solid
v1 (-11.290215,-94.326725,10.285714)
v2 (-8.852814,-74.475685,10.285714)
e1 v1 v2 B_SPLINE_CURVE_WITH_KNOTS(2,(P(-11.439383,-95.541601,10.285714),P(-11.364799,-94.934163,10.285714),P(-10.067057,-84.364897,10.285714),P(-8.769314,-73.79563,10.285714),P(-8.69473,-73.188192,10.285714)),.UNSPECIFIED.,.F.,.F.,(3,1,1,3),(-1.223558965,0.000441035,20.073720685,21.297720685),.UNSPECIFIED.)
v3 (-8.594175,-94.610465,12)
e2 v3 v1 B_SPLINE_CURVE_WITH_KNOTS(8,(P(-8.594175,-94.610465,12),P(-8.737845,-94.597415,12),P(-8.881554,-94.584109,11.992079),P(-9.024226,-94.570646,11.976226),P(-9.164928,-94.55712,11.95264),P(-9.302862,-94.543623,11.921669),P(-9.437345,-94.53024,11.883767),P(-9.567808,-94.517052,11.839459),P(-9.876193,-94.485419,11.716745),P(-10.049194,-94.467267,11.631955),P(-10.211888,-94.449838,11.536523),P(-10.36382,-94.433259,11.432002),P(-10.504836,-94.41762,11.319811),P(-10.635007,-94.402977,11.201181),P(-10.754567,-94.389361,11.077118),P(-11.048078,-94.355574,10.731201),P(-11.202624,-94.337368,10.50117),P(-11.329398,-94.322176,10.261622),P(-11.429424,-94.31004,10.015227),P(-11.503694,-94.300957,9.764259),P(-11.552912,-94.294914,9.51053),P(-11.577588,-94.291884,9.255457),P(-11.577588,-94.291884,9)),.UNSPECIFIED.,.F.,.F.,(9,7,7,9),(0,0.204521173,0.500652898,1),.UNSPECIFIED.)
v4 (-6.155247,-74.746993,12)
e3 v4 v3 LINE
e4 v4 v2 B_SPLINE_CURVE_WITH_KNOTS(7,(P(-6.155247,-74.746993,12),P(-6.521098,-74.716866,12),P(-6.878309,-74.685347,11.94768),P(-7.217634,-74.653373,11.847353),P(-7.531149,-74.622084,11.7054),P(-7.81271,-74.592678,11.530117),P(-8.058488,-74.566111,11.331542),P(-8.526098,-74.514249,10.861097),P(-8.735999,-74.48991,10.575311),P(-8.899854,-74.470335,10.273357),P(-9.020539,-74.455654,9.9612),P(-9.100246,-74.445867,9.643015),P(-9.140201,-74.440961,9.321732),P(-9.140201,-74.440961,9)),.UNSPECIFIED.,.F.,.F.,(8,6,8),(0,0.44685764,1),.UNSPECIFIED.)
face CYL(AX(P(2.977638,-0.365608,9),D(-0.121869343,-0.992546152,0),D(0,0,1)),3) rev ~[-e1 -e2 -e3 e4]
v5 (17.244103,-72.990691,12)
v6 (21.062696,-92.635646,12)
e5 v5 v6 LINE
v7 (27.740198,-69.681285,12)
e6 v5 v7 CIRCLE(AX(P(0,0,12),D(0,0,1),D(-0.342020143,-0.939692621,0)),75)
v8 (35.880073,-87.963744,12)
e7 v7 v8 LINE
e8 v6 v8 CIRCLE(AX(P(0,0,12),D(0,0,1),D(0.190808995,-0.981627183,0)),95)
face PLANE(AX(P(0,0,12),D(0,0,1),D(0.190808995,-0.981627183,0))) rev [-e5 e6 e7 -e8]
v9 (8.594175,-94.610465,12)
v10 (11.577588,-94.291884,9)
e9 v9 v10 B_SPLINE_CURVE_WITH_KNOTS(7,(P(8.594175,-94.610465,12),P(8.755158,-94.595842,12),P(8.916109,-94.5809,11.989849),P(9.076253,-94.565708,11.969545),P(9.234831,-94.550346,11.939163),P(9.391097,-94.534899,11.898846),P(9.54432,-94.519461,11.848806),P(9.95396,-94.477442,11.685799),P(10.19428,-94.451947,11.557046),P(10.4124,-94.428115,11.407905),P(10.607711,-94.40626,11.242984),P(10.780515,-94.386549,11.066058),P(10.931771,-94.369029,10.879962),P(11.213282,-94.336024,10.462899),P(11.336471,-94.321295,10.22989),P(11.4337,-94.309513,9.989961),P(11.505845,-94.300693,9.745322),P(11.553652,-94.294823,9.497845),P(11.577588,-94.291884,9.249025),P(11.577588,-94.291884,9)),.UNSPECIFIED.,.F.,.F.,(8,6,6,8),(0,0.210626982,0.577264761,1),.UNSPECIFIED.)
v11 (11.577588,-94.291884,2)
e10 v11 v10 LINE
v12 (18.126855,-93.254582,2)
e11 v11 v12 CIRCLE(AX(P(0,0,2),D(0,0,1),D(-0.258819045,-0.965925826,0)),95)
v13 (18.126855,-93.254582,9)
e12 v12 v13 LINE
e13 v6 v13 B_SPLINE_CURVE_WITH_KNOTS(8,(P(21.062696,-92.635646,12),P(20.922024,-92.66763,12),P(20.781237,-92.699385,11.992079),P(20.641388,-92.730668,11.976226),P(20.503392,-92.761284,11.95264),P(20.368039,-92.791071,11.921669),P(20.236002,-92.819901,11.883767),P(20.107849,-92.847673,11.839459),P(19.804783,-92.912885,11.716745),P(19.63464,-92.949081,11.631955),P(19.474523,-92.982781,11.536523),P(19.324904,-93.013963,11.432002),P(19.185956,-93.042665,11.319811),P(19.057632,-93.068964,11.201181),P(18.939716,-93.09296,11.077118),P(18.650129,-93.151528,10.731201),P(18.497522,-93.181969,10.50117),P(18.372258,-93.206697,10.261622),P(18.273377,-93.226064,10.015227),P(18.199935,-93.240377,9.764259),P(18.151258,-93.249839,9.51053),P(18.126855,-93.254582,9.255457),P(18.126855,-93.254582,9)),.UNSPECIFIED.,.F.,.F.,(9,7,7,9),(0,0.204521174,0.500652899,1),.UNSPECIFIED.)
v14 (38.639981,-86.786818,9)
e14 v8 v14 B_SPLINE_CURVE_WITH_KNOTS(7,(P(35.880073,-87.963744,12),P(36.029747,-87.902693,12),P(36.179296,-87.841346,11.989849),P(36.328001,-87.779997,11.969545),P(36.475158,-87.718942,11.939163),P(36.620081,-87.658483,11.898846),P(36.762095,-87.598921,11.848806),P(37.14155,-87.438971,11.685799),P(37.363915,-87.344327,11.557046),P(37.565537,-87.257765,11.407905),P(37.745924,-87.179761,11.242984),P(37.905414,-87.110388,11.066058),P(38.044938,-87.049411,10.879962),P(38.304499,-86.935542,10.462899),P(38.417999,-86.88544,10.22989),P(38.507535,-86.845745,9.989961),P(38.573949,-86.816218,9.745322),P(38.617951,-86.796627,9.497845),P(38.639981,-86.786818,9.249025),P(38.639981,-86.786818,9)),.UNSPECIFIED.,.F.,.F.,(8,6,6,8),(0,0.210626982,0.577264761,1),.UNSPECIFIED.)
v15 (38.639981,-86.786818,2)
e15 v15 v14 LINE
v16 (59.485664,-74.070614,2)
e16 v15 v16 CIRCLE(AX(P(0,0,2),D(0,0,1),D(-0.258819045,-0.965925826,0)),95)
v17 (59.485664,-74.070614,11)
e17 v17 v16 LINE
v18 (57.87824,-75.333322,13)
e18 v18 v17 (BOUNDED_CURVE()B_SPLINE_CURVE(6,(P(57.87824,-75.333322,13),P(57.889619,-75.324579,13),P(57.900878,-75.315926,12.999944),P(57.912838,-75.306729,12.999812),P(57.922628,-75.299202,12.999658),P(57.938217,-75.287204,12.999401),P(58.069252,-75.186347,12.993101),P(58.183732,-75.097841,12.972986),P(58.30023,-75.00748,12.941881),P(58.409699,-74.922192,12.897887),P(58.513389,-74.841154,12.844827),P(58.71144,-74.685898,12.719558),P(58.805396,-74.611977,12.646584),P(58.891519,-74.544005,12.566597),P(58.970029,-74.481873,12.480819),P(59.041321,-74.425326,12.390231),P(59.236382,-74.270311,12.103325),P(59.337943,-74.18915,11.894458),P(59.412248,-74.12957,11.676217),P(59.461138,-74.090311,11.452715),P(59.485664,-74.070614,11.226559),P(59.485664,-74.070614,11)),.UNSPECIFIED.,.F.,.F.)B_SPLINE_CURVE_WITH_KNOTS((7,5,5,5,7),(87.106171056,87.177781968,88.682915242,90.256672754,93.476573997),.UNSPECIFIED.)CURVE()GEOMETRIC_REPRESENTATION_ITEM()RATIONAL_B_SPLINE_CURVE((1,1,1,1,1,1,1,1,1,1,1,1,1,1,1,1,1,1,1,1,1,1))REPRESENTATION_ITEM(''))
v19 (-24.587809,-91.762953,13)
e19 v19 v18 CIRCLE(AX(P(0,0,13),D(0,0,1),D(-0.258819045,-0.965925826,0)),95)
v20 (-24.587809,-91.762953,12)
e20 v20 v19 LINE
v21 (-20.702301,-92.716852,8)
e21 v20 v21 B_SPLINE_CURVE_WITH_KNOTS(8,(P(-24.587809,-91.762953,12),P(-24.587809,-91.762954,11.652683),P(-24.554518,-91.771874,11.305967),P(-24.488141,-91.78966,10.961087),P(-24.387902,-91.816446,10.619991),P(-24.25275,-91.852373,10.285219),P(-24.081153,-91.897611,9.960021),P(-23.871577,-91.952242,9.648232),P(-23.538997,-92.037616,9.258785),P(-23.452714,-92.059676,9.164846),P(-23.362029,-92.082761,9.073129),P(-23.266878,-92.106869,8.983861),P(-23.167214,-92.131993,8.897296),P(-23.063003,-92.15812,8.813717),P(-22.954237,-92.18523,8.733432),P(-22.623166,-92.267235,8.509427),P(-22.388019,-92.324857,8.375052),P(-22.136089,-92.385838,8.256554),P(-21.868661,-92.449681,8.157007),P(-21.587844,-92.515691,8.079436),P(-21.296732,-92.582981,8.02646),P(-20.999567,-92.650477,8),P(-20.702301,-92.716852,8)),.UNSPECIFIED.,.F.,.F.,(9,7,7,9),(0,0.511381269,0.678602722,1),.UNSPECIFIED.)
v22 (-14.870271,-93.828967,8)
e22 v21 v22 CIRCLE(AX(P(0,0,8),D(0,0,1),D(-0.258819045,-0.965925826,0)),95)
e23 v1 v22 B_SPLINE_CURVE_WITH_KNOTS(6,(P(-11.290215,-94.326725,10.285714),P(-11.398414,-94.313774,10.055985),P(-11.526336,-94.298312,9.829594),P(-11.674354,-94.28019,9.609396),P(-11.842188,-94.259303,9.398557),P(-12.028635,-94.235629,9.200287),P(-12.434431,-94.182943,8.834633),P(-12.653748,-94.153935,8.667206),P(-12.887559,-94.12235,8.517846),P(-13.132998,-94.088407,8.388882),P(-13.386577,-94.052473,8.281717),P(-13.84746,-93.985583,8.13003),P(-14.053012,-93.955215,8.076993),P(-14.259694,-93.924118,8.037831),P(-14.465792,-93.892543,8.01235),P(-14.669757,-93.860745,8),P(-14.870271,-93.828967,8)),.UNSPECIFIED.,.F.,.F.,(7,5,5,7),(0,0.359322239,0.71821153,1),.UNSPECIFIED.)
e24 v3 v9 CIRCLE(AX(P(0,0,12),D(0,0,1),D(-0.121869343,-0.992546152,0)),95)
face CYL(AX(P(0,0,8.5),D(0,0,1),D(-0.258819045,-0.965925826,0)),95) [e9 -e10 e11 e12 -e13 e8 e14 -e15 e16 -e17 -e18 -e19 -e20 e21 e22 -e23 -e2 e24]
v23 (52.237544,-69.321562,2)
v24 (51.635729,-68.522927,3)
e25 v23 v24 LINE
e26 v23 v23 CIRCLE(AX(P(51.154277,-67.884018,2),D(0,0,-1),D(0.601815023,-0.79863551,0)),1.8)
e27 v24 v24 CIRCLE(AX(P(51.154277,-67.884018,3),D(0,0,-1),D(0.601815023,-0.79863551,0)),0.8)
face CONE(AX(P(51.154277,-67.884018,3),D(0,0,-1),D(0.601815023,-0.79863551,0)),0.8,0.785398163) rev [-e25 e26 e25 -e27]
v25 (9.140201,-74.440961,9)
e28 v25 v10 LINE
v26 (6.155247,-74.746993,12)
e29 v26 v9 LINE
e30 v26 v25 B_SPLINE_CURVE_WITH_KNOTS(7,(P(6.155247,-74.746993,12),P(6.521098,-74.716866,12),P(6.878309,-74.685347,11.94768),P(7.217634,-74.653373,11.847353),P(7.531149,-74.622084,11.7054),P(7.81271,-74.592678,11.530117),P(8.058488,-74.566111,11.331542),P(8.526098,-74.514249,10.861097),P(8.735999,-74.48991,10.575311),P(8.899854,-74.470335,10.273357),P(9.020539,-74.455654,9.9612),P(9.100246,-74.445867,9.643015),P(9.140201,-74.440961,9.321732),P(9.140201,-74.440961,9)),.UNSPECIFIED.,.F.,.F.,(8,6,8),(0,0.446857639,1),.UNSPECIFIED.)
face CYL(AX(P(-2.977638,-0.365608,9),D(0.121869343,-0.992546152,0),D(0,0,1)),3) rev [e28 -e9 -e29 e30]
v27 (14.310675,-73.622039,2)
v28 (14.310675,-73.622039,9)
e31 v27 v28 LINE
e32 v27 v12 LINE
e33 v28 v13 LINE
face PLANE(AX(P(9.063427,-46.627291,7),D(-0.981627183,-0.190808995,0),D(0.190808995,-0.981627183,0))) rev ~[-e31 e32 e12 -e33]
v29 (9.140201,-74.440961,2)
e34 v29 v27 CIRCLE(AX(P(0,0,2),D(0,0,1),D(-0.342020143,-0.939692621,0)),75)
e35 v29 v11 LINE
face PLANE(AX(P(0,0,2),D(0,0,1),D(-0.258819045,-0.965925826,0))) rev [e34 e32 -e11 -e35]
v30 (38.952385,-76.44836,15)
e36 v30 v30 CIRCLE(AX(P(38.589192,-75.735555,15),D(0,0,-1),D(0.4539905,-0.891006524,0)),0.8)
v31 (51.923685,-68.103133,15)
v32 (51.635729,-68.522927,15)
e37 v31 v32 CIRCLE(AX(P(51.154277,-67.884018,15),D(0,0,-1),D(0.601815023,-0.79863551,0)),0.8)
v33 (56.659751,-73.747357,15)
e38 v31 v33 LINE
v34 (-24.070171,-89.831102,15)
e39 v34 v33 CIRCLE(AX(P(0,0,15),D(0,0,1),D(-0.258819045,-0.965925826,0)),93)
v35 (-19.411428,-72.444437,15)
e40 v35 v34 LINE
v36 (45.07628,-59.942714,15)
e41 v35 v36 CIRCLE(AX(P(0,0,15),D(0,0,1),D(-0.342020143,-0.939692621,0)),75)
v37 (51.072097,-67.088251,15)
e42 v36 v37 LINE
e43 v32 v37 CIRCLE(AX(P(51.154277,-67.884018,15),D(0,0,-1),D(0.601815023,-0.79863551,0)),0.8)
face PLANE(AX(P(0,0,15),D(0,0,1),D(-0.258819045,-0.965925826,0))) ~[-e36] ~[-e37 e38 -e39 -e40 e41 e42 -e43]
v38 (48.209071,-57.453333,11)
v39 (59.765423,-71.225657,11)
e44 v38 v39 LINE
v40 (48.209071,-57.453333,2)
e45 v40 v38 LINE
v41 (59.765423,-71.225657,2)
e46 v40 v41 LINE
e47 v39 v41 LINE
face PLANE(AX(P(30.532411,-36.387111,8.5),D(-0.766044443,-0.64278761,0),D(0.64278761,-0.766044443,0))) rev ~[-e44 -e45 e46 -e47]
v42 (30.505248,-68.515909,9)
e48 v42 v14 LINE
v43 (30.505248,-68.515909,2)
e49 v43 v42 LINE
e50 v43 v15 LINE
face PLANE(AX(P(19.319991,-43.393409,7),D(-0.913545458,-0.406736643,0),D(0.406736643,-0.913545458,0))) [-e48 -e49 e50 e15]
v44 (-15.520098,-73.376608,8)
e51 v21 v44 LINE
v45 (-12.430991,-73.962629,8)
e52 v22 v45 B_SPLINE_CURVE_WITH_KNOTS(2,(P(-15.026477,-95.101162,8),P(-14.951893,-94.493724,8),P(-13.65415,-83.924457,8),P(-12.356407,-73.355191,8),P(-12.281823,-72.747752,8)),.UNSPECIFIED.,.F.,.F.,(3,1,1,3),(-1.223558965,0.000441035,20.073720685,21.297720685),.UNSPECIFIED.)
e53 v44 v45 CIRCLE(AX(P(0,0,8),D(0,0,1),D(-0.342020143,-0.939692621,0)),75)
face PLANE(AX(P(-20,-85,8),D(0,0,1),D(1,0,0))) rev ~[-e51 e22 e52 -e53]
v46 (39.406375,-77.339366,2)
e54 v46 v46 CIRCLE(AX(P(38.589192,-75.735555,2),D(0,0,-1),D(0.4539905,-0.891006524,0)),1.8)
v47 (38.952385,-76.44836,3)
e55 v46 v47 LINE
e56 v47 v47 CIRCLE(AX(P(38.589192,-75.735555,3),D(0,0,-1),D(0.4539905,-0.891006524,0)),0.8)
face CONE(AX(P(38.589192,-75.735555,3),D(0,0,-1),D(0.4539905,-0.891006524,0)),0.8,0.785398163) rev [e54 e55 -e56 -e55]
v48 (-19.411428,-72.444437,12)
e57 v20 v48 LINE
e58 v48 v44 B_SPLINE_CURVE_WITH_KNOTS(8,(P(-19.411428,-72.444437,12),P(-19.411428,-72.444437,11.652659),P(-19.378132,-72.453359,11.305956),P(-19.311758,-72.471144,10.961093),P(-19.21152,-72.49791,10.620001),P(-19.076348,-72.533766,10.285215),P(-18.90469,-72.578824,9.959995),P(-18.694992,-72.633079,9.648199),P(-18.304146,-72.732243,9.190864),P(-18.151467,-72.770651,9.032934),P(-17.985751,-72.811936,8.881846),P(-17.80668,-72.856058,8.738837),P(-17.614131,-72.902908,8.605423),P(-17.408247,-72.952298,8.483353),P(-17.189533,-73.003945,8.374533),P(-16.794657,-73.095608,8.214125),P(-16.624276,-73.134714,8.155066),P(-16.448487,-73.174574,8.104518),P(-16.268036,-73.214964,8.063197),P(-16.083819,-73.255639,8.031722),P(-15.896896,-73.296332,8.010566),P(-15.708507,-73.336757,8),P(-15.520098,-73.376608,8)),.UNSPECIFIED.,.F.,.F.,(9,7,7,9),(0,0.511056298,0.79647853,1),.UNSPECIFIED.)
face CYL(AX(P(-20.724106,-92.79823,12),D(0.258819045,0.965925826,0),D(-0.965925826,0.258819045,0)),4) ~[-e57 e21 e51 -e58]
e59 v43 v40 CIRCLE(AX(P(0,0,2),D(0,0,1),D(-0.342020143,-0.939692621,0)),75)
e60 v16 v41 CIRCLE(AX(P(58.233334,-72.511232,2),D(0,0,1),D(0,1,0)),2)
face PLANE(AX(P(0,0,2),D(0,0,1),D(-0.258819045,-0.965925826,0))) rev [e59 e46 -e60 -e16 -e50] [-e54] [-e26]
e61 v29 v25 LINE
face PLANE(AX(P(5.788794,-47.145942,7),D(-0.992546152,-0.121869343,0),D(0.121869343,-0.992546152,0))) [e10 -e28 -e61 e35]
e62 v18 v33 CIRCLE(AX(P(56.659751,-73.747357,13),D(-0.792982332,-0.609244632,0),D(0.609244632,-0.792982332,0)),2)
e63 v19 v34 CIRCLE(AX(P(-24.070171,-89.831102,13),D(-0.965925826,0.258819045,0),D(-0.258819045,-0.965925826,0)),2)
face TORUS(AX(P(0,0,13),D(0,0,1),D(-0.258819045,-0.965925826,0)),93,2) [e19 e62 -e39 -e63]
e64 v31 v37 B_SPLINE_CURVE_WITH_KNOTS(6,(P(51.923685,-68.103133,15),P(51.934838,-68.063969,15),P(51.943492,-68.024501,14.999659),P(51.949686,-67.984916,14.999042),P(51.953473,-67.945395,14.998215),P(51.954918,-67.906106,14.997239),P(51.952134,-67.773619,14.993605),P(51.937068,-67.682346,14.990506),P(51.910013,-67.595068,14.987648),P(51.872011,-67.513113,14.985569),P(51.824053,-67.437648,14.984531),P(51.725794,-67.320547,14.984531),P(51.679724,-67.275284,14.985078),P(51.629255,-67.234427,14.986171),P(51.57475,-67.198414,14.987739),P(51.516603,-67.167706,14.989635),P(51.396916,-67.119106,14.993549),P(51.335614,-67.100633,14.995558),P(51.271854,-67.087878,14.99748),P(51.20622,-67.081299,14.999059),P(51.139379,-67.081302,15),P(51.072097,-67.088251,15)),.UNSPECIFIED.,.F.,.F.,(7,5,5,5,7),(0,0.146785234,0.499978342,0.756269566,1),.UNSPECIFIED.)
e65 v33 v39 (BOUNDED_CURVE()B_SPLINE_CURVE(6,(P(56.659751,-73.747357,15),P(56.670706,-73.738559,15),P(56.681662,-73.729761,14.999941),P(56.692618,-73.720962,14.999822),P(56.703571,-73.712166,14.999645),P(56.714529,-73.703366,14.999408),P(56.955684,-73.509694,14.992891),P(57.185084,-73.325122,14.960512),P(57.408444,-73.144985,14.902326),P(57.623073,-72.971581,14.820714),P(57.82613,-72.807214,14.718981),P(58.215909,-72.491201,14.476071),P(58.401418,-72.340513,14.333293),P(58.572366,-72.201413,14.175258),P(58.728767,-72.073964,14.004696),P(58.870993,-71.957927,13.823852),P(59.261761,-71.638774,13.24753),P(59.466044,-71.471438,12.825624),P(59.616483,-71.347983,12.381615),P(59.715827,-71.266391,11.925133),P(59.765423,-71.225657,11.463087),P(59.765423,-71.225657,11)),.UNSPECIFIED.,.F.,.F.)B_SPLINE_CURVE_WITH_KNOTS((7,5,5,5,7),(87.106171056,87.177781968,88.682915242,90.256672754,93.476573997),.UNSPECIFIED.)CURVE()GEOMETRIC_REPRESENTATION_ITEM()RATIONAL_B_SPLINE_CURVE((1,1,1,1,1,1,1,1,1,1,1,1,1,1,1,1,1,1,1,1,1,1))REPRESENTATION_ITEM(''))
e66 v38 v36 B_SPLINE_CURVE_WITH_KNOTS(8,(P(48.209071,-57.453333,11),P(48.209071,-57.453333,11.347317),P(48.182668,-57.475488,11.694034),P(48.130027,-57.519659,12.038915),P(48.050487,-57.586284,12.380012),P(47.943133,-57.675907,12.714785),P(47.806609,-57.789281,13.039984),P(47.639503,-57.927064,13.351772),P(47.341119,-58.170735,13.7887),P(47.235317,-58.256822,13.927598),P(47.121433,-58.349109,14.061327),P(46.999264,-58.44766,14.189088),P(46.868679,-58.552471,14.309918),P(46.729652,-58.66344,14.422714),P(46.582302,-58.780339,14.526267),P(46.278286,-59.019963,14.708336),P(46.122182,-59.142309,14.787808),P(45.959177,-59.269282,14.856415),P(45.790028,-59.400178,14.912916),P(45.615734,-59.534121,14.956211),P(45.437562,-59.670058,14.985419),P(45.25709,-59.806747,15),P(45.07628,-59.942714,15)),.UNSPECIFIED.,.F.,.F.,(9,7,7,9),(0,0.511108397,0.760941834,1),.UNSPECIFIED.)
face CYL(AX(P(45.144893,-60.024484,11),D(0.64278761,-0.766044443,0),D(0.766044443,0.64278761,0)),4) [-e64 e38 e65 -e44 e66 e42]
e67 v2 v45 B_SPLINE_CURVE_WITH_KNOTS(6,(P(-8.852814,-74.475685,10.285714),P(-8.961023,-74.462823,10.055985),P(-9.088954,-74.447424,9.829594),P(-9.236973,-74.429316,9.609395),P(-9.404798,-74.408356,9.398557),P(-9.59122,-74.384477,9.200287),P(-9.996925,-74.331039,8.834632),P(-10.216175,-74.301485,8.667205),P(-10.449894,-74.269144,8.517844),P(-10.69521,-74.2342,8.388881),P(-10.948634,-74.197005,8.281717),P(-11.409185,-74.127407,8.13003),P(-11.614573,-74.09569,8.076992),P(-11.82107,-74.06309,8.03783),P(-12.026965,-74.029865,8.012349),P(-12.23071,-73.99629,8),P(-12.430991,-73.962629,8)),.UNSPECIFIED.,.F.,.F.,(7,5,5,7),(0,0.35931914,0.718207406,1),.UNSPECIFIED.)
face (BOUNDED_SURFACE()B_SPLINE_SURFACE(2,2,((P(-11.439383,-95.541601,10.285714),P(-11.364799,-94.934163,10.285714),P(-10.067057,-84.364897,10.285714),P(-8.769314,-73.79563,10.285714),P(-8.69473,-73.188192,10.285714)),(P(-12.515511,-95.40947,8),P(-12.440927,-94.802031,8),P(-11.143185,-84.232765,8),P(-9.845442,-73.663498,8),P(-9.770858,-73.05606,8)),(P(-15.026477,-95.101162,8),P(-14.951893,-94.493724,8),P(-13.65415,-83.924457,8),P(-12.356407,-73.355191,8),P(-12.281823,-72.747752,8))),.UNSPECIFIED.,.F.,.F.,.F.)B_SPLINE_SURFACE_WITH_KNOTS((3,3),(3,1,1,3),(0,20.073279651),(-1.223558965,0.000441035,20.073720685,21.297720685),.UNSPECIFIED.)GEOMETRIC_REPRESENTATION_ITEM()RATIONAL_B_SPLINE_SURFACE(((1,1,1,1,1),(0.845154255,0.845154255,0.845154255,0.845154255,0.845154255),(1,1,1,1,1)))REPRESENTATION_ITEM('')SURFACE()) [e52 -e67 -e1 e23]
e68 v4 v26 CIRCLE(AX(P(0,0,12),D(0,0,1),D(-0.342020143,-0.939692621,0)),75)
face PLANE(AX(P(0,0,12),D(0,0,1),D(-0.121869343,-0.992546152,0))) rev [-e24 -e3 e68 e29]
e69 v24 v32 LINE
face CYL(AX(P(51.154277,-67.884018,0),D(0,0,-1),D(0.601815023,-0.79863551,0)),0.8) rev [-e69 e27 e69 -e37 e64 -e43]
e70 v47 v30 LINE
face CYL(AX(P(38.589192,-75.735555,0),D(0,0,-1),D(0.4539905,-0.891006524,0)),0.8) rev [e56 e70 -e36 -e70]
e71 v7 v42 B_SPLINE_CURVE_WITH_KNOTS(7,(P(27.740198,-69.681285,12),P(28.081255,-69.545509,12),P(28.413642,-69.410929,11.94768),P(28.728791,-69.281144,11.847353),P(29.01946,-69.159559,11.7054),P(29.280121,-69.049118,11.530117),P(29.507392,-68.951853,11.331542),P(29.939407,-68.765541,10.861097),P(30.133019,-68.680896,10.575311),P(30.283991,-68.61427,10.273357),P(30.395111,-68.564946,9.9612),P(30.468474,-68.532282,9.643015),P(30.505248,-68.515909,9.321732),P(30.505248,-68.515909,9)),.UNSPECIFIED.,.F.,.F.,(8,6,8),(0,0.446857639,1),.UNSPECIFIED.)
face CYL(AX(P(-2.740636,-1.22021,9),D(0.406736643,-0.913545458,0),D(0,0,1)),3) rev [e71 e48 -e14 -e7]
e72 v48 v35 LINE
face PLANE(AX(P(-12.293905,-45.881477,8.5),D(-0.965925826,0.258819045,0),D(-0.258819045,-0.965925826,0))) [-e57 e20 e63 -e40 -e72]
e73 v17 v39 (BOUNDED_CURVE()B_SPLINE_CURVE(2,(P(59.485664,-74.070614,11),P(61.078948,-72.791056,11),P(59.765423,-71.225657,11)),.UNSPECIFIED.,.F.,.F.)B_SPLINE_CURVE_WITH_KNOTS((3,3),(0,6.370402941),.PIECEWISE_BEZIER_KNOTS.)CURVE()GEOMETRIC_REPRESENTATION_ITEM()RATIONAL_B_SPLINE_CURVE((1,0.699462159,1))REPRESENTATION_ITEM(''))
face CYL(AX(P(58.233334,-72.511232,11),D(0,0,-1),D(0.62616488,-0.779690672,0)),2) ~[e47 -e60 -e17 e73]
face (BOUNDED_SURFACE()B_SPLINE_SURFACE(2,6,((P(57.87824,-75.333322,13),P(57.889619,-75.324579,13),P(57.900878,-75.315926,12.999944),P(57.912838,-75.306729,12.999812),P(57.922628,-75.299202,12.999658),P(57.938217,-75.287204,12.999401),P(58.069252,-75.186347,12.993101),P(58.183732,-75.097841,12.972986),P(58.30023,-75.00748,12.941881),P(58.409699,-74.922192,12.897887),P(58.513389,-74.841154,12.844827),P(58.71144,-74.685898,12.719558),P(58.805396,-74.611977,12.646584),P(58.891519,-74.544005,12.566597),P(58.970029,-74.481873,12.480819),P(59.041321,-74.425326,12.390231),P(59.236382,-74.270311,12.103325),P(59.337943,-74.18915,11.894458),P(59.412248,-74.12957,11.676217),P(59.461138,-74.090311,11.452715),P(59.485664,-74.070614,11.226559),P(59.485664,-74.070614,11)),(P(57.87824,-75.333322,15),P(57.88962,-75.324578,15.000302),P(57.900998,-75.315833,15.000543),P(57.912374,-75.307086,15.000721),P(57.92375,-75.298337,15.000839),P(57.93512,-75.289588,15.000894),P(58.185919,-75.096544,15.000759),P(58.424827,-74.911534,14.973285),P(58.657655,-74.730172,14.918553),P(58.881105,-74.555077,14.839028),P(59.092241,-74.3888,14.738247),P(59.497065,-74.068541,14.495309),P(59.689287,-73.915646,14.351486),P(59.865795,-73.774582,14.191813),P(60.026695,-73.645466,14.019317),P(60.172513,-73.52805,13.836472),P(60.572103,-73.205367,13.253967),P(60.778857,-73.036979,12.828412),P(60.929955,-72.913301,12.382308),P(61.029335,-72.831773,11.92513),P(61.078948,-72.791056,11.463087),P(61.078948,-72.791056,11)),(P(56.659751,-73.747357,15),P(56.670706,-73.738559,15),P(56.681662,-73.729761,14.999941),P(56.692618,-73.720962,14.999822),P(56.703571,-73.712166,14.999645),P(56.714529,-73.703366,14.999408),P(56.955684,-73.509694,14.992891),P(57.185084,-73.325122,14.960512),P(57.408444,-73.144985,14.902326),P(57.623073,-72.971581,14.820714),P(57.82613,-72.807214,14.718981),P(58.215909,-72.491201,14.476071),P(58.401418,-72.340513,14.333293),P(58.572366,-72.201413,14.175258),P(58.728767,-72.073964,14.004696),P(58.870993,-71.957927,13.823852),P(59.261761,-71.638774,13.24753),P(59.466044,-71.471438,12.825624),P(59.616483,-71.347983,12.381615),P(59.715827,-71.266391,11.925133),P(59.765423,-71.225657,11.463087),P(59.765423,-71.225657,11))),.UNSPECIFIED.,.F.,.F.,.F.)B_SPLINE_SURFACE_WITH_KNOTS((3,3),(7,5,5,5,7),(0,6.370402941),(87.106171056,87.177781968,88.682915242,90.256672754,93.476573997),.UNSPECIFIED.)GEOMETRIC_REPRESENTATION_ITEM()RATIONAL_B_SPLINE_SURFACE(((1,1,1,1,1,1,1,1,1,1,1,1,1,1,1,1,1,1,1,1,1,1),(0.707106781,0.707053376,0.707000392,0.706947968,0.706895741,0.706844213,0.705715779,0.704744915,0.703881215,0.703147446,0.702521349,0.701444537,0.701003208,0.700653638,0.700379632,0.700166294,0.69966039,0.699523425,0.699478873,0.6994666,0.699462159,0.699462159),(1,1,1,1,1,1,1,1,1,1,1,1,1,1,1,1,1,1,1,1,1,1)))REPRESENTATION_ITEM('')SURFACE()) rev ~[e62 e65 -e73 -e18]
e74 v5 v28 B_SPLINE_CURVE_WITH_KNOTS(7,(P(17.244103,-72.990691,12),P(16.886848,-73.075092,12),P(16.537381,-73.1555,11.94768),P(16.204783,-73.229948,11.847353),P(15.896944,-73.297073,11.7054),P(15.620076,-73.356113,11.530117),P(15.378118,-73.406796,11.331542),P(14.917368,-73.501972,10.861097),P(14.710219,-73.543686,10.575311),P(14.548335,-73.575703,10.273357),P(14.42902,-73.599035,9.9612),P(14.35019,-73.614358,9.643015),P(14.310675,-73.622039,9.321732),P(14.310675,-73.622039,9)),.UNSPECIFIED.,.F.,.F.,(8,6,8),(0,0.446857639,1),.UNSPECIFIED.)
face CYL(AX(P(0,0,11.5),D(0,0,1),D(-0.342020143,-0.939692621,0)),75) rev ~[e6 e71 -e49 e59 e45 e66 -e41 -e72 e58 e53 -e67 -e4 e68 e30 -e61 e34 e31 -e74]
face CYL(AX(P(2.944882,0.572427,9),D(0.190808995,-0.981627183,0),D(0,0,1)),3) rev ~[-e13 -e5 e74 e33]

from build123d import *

# Parameters (mm, degrees)
CYLINDER017_R               = 0.8
CYLINDER017_DEPTH           = 20
CYLINDER018_R               = 0.8
CYLINDER018_DEPTH           = 20
CYLINDER019_R               = 0.8
CYLINDER019_DEPTH           = 20
CYLINDER020_R               = 0.8
CYLINDER020_DEPTH           = 20
FUSION007_PLACEMENT_ANGLE   = 10
FUSION008_PLACEMENT_ANGLE   = 297
CYLINDER015_W               = 95
CYLINDER015_H               = 10
CYLINDER015_ANGLE           = 14
CYLINDER015_PLACEMENT_ANGLE = 263
FILLET_R                    = 3
BOX_W                       = 30
BOX_H                       = 30
BOX_DEPTH                   = 8
CYLINDER029_W               = 95
CYLINDER029_H               = 10
CYLINDER029_ANGLE           = 13
CYLINDER029_PLACEMENT_ANGLE = 281
FILLET026_R                 = 3
CYLINDER016_W               = 75
CYLINDER016_H               = 19
CYLINDER016_ANGLE           = 140
CYLINDER016_PLACEMENT_ANGLE = 250
CYLINDER014_W               = 95
CYLINDER014_H               = 13
CYLINDER014_ANGLE           = 55
CYLINDER014_PLACEMENT_ANGLE = 255
FILLET013_R                 = 4
FILLET014_R                 = 2
FILLET027_R                 = 4
CHAMFER_SIZE                = 1


with BuildPart() as cylinder017:
    # Cylinder017 → Cylinder017 (new body)
    with BuildSketch(Plane(origin=(85, 0, 0), x_dir=(1, 0, 0), z_dir=(0, 0, 1))):
        Circle(CYLINDER017_R)
    extrude(amount=CYLINDER017_DEPTH)


with BuildPart() as fusion006:
    # Cylinder018 → Cylinder018 (new body)
    with BuildSketch(Plane(origin=(-85, 0, 0), x_dir=(1, 0, 0), z_dir=(0, 0, 1))):
        Circle(CYLINDER018_R)
    extrude(amount=CYLINDER018_DEPTH)

    # Fusion006: union Cylinder017
    add(cylinder017.part)


with BuildPart() as cylinder019:
    # Cylinder019 → Cylinder019 (new body)
    with BuildSketch(Plane(origin=(85, 0, 0), x_dir=(1, 0, 0), z_dir=(0, 0, 1))):
        Circle(CYLINDER019_R)
    extrude(amount=CYLINDER019_DEPTH)


with BuildPart() as toothscrewholles:
    # Cylinder020 → Cylinder020 (new body)
    with BuildSketch(Plane(origin=(-85, 0, 0), x_dir=(1, 0, 0), z_dir=(0, 0, 1))):
        Circle(CYLINDER020_R)
    extrude(amount=CYLINDER020_DEPTH)

    # Fusion007: union Cylinder019
    add(cylinder019.part)


with BuildPart() as toothscrewholles_1:
    # Fusion007 placement: moved
    add(toothscrewholles.part.rotate(Axis((0, 0, 0), (0, 0, 1)), FUSION007_PLACEMENT_ANGLE))

    # Fusion008: union Fusion006
    add(fusion006.part)


with BuildPart() as toothscrewholles_2:
    # Fusion008 placement: moved
    add(toothscrewholles_1.part.rotate(Axis((0, 0, 0), (0, 0, 1)), FUSION008_PLACEMENT_ANGLE))


with BuildPart() as fillet_body:
    # Cylinder015 → Cylinder015 (revolve)
    with BuildSketch(Plane.XZ):
        with Locations((47.5, 5)):
            Rectangle(CYLINDER015_W, CYLINDER015_H)
    revolve(axis=Axis((0, 0, 0), (0, 0, 1)), revolution_arc=CYLINDER015_ANGLE)


with BuildPart() as fillet_body_1:
    # Cylinder015 placement: moved
    add(fillet_body.part.moved(Location((0, 0, 2))).rotate(Axis((0, 0, 2), (0, 0, 1)), CYLINDER015_PLACEMENT_ANGLE))

    # Fillet
    fillet_edges = [fillet_body_1.edges().sort_by_distance(p)[0] for p in [
        (5.788794, -47.145942, 12),
        (-5.788794, -47.145942, 12),
    ]]
    fillet(fillet_edges, radius=FILLET_R)


with BuildPart() as cube:
    # Box → Box (new body)
    with BuildSketch(Plane(origin=(-35, -100, 0), x_dir=(1, 0, 0), z_dir=(0, 0, 1))):
        with Locations((15, 15)):
            Rectangle(BOX_W, BOX_H)
    extrude(amount=BOX_DEPTH)


with BuildPart() as fusion:
    # Cylinder029 → Cylinder029 (revolve)
    with BuildSketch(Plane.XZ):
        with Locations((47.5, 5)):
            Rectangle(CYLINDER029_W, CYLINDER029_H)
    revolve(axis=Axis((0, 0, 0), (0, 0, 1)), revolution_arc=CYLINDER029_ANGLE)


with BuildPart() as fusion_1:
    # Cylinder029 placement: moved
    add(fusion.part.moved(Location((0, 0, 2))).rotate(Axis((0, 0, 2), (0, 0, 1)), CYLINDER029_PLACEMENT_ANGLE))

    # Fillet026
    fillet026_edges = [fusion_1.edges().sort_by_distance(p)[0] for p in [
        (19.319991, -43.393409, 12),
        (9.063427, -46.627291, 12),
    ]]
    fillet(fillet026_edges, radius=FILLET026_R)

    # Fusion: union Fillet body, Cube
    add(fillet_body_1.part)
    add(cube.part)


with BuildPart() as cylinder016:
    # Cylinder016 → Cylinder016 (revolve)
    with BuildSketch(Plane.XZ):
        with Locations((37.5, 9.5)):
            Rectangle(CYLINDER016_W, CYLINDER016_H)
    revolve(axis=Axis((0, 0, 0), (0, 0, 1)), revolution_arc=CYLINDER016_ANGLE)


with BuildPart() as cylinder016_1:
    # Cylinder016 placement: moved
    add(cylinder016.part.moved(Location((0, 0, 2))).rotate(Axis((0, 0, 2), (0, 0, 1)), CYLINDER016_PLACEMENT_ANGLE))


with BuildPart() as closearm:
    # Cylinder014 → Cylinder014 (revolve)
    with BuildSketch(Plane.XZ):
        with Locations((47.5, 6.5)):
            Rectangle(CYLINDER014_W, CYLINDER014_H)
    revolve(axis=Axis((0, 0, 0), (0, 0, 1)), revolution_arc=CYLINDER014_ANGLE)


with BuildPart() as closearm_1:
    # Cylinder014 placement: moved
    add(closearm.part.moved(Location((0, 0, 2))).rotate(Axis((0, 0, 2), (0, 0, 1)), CYLINDER014_PLACEMENT_ANGLE))

    # Cut: cut Cylinder016
    add(cylinder016_1.part, mode=Mode.SUBTRACT)

    # Fillet013
    fillet013_edges = [closearm_1.edges().sort_by_distance(p)[0] for p in [
        (54.636947, -65.113778, 15),
    ]]
    fillet(fillet013_edges, radius=FILLET013_R)

    # Fillet014
    fillet014_edges = [closearm_1.edges().sort_by_distance(p)[0] for p in [
        (18.604179, -93.160531, 15),
    ]]
    fillet(fillet014_edges, radius=FILLET014_R)

    # Cut018: cut Fusion
    add(fusion_1.part, mode=Mode.SUBTRACT)

    # Fillet027
    fillet027_edges = [closearm_1.edges().sort_by_distance(p)[0] for p in [
        (-10.358894, -84.366423, 8),
        (-21.999619, -82.103695, 8),
    ]]
    fillet(fillet027_edges, radius=FILLET027_R)

    # Cut019: cut ToothScrewHolles
    add(toothscrewholles_2.part, mode=Mode.SUBTRACT)

    # Chamfer
    chamfer_edges = [closearm_1.edges().sort_by_distance(p)[0] for p in [
        (38.226, -75.022749, 2),
        (50.672825, -67.24511, 2),
    ]]
    chamfer(chamfer_edges, length=CHAMFER_SIZE)


solid = closearm_1.part
